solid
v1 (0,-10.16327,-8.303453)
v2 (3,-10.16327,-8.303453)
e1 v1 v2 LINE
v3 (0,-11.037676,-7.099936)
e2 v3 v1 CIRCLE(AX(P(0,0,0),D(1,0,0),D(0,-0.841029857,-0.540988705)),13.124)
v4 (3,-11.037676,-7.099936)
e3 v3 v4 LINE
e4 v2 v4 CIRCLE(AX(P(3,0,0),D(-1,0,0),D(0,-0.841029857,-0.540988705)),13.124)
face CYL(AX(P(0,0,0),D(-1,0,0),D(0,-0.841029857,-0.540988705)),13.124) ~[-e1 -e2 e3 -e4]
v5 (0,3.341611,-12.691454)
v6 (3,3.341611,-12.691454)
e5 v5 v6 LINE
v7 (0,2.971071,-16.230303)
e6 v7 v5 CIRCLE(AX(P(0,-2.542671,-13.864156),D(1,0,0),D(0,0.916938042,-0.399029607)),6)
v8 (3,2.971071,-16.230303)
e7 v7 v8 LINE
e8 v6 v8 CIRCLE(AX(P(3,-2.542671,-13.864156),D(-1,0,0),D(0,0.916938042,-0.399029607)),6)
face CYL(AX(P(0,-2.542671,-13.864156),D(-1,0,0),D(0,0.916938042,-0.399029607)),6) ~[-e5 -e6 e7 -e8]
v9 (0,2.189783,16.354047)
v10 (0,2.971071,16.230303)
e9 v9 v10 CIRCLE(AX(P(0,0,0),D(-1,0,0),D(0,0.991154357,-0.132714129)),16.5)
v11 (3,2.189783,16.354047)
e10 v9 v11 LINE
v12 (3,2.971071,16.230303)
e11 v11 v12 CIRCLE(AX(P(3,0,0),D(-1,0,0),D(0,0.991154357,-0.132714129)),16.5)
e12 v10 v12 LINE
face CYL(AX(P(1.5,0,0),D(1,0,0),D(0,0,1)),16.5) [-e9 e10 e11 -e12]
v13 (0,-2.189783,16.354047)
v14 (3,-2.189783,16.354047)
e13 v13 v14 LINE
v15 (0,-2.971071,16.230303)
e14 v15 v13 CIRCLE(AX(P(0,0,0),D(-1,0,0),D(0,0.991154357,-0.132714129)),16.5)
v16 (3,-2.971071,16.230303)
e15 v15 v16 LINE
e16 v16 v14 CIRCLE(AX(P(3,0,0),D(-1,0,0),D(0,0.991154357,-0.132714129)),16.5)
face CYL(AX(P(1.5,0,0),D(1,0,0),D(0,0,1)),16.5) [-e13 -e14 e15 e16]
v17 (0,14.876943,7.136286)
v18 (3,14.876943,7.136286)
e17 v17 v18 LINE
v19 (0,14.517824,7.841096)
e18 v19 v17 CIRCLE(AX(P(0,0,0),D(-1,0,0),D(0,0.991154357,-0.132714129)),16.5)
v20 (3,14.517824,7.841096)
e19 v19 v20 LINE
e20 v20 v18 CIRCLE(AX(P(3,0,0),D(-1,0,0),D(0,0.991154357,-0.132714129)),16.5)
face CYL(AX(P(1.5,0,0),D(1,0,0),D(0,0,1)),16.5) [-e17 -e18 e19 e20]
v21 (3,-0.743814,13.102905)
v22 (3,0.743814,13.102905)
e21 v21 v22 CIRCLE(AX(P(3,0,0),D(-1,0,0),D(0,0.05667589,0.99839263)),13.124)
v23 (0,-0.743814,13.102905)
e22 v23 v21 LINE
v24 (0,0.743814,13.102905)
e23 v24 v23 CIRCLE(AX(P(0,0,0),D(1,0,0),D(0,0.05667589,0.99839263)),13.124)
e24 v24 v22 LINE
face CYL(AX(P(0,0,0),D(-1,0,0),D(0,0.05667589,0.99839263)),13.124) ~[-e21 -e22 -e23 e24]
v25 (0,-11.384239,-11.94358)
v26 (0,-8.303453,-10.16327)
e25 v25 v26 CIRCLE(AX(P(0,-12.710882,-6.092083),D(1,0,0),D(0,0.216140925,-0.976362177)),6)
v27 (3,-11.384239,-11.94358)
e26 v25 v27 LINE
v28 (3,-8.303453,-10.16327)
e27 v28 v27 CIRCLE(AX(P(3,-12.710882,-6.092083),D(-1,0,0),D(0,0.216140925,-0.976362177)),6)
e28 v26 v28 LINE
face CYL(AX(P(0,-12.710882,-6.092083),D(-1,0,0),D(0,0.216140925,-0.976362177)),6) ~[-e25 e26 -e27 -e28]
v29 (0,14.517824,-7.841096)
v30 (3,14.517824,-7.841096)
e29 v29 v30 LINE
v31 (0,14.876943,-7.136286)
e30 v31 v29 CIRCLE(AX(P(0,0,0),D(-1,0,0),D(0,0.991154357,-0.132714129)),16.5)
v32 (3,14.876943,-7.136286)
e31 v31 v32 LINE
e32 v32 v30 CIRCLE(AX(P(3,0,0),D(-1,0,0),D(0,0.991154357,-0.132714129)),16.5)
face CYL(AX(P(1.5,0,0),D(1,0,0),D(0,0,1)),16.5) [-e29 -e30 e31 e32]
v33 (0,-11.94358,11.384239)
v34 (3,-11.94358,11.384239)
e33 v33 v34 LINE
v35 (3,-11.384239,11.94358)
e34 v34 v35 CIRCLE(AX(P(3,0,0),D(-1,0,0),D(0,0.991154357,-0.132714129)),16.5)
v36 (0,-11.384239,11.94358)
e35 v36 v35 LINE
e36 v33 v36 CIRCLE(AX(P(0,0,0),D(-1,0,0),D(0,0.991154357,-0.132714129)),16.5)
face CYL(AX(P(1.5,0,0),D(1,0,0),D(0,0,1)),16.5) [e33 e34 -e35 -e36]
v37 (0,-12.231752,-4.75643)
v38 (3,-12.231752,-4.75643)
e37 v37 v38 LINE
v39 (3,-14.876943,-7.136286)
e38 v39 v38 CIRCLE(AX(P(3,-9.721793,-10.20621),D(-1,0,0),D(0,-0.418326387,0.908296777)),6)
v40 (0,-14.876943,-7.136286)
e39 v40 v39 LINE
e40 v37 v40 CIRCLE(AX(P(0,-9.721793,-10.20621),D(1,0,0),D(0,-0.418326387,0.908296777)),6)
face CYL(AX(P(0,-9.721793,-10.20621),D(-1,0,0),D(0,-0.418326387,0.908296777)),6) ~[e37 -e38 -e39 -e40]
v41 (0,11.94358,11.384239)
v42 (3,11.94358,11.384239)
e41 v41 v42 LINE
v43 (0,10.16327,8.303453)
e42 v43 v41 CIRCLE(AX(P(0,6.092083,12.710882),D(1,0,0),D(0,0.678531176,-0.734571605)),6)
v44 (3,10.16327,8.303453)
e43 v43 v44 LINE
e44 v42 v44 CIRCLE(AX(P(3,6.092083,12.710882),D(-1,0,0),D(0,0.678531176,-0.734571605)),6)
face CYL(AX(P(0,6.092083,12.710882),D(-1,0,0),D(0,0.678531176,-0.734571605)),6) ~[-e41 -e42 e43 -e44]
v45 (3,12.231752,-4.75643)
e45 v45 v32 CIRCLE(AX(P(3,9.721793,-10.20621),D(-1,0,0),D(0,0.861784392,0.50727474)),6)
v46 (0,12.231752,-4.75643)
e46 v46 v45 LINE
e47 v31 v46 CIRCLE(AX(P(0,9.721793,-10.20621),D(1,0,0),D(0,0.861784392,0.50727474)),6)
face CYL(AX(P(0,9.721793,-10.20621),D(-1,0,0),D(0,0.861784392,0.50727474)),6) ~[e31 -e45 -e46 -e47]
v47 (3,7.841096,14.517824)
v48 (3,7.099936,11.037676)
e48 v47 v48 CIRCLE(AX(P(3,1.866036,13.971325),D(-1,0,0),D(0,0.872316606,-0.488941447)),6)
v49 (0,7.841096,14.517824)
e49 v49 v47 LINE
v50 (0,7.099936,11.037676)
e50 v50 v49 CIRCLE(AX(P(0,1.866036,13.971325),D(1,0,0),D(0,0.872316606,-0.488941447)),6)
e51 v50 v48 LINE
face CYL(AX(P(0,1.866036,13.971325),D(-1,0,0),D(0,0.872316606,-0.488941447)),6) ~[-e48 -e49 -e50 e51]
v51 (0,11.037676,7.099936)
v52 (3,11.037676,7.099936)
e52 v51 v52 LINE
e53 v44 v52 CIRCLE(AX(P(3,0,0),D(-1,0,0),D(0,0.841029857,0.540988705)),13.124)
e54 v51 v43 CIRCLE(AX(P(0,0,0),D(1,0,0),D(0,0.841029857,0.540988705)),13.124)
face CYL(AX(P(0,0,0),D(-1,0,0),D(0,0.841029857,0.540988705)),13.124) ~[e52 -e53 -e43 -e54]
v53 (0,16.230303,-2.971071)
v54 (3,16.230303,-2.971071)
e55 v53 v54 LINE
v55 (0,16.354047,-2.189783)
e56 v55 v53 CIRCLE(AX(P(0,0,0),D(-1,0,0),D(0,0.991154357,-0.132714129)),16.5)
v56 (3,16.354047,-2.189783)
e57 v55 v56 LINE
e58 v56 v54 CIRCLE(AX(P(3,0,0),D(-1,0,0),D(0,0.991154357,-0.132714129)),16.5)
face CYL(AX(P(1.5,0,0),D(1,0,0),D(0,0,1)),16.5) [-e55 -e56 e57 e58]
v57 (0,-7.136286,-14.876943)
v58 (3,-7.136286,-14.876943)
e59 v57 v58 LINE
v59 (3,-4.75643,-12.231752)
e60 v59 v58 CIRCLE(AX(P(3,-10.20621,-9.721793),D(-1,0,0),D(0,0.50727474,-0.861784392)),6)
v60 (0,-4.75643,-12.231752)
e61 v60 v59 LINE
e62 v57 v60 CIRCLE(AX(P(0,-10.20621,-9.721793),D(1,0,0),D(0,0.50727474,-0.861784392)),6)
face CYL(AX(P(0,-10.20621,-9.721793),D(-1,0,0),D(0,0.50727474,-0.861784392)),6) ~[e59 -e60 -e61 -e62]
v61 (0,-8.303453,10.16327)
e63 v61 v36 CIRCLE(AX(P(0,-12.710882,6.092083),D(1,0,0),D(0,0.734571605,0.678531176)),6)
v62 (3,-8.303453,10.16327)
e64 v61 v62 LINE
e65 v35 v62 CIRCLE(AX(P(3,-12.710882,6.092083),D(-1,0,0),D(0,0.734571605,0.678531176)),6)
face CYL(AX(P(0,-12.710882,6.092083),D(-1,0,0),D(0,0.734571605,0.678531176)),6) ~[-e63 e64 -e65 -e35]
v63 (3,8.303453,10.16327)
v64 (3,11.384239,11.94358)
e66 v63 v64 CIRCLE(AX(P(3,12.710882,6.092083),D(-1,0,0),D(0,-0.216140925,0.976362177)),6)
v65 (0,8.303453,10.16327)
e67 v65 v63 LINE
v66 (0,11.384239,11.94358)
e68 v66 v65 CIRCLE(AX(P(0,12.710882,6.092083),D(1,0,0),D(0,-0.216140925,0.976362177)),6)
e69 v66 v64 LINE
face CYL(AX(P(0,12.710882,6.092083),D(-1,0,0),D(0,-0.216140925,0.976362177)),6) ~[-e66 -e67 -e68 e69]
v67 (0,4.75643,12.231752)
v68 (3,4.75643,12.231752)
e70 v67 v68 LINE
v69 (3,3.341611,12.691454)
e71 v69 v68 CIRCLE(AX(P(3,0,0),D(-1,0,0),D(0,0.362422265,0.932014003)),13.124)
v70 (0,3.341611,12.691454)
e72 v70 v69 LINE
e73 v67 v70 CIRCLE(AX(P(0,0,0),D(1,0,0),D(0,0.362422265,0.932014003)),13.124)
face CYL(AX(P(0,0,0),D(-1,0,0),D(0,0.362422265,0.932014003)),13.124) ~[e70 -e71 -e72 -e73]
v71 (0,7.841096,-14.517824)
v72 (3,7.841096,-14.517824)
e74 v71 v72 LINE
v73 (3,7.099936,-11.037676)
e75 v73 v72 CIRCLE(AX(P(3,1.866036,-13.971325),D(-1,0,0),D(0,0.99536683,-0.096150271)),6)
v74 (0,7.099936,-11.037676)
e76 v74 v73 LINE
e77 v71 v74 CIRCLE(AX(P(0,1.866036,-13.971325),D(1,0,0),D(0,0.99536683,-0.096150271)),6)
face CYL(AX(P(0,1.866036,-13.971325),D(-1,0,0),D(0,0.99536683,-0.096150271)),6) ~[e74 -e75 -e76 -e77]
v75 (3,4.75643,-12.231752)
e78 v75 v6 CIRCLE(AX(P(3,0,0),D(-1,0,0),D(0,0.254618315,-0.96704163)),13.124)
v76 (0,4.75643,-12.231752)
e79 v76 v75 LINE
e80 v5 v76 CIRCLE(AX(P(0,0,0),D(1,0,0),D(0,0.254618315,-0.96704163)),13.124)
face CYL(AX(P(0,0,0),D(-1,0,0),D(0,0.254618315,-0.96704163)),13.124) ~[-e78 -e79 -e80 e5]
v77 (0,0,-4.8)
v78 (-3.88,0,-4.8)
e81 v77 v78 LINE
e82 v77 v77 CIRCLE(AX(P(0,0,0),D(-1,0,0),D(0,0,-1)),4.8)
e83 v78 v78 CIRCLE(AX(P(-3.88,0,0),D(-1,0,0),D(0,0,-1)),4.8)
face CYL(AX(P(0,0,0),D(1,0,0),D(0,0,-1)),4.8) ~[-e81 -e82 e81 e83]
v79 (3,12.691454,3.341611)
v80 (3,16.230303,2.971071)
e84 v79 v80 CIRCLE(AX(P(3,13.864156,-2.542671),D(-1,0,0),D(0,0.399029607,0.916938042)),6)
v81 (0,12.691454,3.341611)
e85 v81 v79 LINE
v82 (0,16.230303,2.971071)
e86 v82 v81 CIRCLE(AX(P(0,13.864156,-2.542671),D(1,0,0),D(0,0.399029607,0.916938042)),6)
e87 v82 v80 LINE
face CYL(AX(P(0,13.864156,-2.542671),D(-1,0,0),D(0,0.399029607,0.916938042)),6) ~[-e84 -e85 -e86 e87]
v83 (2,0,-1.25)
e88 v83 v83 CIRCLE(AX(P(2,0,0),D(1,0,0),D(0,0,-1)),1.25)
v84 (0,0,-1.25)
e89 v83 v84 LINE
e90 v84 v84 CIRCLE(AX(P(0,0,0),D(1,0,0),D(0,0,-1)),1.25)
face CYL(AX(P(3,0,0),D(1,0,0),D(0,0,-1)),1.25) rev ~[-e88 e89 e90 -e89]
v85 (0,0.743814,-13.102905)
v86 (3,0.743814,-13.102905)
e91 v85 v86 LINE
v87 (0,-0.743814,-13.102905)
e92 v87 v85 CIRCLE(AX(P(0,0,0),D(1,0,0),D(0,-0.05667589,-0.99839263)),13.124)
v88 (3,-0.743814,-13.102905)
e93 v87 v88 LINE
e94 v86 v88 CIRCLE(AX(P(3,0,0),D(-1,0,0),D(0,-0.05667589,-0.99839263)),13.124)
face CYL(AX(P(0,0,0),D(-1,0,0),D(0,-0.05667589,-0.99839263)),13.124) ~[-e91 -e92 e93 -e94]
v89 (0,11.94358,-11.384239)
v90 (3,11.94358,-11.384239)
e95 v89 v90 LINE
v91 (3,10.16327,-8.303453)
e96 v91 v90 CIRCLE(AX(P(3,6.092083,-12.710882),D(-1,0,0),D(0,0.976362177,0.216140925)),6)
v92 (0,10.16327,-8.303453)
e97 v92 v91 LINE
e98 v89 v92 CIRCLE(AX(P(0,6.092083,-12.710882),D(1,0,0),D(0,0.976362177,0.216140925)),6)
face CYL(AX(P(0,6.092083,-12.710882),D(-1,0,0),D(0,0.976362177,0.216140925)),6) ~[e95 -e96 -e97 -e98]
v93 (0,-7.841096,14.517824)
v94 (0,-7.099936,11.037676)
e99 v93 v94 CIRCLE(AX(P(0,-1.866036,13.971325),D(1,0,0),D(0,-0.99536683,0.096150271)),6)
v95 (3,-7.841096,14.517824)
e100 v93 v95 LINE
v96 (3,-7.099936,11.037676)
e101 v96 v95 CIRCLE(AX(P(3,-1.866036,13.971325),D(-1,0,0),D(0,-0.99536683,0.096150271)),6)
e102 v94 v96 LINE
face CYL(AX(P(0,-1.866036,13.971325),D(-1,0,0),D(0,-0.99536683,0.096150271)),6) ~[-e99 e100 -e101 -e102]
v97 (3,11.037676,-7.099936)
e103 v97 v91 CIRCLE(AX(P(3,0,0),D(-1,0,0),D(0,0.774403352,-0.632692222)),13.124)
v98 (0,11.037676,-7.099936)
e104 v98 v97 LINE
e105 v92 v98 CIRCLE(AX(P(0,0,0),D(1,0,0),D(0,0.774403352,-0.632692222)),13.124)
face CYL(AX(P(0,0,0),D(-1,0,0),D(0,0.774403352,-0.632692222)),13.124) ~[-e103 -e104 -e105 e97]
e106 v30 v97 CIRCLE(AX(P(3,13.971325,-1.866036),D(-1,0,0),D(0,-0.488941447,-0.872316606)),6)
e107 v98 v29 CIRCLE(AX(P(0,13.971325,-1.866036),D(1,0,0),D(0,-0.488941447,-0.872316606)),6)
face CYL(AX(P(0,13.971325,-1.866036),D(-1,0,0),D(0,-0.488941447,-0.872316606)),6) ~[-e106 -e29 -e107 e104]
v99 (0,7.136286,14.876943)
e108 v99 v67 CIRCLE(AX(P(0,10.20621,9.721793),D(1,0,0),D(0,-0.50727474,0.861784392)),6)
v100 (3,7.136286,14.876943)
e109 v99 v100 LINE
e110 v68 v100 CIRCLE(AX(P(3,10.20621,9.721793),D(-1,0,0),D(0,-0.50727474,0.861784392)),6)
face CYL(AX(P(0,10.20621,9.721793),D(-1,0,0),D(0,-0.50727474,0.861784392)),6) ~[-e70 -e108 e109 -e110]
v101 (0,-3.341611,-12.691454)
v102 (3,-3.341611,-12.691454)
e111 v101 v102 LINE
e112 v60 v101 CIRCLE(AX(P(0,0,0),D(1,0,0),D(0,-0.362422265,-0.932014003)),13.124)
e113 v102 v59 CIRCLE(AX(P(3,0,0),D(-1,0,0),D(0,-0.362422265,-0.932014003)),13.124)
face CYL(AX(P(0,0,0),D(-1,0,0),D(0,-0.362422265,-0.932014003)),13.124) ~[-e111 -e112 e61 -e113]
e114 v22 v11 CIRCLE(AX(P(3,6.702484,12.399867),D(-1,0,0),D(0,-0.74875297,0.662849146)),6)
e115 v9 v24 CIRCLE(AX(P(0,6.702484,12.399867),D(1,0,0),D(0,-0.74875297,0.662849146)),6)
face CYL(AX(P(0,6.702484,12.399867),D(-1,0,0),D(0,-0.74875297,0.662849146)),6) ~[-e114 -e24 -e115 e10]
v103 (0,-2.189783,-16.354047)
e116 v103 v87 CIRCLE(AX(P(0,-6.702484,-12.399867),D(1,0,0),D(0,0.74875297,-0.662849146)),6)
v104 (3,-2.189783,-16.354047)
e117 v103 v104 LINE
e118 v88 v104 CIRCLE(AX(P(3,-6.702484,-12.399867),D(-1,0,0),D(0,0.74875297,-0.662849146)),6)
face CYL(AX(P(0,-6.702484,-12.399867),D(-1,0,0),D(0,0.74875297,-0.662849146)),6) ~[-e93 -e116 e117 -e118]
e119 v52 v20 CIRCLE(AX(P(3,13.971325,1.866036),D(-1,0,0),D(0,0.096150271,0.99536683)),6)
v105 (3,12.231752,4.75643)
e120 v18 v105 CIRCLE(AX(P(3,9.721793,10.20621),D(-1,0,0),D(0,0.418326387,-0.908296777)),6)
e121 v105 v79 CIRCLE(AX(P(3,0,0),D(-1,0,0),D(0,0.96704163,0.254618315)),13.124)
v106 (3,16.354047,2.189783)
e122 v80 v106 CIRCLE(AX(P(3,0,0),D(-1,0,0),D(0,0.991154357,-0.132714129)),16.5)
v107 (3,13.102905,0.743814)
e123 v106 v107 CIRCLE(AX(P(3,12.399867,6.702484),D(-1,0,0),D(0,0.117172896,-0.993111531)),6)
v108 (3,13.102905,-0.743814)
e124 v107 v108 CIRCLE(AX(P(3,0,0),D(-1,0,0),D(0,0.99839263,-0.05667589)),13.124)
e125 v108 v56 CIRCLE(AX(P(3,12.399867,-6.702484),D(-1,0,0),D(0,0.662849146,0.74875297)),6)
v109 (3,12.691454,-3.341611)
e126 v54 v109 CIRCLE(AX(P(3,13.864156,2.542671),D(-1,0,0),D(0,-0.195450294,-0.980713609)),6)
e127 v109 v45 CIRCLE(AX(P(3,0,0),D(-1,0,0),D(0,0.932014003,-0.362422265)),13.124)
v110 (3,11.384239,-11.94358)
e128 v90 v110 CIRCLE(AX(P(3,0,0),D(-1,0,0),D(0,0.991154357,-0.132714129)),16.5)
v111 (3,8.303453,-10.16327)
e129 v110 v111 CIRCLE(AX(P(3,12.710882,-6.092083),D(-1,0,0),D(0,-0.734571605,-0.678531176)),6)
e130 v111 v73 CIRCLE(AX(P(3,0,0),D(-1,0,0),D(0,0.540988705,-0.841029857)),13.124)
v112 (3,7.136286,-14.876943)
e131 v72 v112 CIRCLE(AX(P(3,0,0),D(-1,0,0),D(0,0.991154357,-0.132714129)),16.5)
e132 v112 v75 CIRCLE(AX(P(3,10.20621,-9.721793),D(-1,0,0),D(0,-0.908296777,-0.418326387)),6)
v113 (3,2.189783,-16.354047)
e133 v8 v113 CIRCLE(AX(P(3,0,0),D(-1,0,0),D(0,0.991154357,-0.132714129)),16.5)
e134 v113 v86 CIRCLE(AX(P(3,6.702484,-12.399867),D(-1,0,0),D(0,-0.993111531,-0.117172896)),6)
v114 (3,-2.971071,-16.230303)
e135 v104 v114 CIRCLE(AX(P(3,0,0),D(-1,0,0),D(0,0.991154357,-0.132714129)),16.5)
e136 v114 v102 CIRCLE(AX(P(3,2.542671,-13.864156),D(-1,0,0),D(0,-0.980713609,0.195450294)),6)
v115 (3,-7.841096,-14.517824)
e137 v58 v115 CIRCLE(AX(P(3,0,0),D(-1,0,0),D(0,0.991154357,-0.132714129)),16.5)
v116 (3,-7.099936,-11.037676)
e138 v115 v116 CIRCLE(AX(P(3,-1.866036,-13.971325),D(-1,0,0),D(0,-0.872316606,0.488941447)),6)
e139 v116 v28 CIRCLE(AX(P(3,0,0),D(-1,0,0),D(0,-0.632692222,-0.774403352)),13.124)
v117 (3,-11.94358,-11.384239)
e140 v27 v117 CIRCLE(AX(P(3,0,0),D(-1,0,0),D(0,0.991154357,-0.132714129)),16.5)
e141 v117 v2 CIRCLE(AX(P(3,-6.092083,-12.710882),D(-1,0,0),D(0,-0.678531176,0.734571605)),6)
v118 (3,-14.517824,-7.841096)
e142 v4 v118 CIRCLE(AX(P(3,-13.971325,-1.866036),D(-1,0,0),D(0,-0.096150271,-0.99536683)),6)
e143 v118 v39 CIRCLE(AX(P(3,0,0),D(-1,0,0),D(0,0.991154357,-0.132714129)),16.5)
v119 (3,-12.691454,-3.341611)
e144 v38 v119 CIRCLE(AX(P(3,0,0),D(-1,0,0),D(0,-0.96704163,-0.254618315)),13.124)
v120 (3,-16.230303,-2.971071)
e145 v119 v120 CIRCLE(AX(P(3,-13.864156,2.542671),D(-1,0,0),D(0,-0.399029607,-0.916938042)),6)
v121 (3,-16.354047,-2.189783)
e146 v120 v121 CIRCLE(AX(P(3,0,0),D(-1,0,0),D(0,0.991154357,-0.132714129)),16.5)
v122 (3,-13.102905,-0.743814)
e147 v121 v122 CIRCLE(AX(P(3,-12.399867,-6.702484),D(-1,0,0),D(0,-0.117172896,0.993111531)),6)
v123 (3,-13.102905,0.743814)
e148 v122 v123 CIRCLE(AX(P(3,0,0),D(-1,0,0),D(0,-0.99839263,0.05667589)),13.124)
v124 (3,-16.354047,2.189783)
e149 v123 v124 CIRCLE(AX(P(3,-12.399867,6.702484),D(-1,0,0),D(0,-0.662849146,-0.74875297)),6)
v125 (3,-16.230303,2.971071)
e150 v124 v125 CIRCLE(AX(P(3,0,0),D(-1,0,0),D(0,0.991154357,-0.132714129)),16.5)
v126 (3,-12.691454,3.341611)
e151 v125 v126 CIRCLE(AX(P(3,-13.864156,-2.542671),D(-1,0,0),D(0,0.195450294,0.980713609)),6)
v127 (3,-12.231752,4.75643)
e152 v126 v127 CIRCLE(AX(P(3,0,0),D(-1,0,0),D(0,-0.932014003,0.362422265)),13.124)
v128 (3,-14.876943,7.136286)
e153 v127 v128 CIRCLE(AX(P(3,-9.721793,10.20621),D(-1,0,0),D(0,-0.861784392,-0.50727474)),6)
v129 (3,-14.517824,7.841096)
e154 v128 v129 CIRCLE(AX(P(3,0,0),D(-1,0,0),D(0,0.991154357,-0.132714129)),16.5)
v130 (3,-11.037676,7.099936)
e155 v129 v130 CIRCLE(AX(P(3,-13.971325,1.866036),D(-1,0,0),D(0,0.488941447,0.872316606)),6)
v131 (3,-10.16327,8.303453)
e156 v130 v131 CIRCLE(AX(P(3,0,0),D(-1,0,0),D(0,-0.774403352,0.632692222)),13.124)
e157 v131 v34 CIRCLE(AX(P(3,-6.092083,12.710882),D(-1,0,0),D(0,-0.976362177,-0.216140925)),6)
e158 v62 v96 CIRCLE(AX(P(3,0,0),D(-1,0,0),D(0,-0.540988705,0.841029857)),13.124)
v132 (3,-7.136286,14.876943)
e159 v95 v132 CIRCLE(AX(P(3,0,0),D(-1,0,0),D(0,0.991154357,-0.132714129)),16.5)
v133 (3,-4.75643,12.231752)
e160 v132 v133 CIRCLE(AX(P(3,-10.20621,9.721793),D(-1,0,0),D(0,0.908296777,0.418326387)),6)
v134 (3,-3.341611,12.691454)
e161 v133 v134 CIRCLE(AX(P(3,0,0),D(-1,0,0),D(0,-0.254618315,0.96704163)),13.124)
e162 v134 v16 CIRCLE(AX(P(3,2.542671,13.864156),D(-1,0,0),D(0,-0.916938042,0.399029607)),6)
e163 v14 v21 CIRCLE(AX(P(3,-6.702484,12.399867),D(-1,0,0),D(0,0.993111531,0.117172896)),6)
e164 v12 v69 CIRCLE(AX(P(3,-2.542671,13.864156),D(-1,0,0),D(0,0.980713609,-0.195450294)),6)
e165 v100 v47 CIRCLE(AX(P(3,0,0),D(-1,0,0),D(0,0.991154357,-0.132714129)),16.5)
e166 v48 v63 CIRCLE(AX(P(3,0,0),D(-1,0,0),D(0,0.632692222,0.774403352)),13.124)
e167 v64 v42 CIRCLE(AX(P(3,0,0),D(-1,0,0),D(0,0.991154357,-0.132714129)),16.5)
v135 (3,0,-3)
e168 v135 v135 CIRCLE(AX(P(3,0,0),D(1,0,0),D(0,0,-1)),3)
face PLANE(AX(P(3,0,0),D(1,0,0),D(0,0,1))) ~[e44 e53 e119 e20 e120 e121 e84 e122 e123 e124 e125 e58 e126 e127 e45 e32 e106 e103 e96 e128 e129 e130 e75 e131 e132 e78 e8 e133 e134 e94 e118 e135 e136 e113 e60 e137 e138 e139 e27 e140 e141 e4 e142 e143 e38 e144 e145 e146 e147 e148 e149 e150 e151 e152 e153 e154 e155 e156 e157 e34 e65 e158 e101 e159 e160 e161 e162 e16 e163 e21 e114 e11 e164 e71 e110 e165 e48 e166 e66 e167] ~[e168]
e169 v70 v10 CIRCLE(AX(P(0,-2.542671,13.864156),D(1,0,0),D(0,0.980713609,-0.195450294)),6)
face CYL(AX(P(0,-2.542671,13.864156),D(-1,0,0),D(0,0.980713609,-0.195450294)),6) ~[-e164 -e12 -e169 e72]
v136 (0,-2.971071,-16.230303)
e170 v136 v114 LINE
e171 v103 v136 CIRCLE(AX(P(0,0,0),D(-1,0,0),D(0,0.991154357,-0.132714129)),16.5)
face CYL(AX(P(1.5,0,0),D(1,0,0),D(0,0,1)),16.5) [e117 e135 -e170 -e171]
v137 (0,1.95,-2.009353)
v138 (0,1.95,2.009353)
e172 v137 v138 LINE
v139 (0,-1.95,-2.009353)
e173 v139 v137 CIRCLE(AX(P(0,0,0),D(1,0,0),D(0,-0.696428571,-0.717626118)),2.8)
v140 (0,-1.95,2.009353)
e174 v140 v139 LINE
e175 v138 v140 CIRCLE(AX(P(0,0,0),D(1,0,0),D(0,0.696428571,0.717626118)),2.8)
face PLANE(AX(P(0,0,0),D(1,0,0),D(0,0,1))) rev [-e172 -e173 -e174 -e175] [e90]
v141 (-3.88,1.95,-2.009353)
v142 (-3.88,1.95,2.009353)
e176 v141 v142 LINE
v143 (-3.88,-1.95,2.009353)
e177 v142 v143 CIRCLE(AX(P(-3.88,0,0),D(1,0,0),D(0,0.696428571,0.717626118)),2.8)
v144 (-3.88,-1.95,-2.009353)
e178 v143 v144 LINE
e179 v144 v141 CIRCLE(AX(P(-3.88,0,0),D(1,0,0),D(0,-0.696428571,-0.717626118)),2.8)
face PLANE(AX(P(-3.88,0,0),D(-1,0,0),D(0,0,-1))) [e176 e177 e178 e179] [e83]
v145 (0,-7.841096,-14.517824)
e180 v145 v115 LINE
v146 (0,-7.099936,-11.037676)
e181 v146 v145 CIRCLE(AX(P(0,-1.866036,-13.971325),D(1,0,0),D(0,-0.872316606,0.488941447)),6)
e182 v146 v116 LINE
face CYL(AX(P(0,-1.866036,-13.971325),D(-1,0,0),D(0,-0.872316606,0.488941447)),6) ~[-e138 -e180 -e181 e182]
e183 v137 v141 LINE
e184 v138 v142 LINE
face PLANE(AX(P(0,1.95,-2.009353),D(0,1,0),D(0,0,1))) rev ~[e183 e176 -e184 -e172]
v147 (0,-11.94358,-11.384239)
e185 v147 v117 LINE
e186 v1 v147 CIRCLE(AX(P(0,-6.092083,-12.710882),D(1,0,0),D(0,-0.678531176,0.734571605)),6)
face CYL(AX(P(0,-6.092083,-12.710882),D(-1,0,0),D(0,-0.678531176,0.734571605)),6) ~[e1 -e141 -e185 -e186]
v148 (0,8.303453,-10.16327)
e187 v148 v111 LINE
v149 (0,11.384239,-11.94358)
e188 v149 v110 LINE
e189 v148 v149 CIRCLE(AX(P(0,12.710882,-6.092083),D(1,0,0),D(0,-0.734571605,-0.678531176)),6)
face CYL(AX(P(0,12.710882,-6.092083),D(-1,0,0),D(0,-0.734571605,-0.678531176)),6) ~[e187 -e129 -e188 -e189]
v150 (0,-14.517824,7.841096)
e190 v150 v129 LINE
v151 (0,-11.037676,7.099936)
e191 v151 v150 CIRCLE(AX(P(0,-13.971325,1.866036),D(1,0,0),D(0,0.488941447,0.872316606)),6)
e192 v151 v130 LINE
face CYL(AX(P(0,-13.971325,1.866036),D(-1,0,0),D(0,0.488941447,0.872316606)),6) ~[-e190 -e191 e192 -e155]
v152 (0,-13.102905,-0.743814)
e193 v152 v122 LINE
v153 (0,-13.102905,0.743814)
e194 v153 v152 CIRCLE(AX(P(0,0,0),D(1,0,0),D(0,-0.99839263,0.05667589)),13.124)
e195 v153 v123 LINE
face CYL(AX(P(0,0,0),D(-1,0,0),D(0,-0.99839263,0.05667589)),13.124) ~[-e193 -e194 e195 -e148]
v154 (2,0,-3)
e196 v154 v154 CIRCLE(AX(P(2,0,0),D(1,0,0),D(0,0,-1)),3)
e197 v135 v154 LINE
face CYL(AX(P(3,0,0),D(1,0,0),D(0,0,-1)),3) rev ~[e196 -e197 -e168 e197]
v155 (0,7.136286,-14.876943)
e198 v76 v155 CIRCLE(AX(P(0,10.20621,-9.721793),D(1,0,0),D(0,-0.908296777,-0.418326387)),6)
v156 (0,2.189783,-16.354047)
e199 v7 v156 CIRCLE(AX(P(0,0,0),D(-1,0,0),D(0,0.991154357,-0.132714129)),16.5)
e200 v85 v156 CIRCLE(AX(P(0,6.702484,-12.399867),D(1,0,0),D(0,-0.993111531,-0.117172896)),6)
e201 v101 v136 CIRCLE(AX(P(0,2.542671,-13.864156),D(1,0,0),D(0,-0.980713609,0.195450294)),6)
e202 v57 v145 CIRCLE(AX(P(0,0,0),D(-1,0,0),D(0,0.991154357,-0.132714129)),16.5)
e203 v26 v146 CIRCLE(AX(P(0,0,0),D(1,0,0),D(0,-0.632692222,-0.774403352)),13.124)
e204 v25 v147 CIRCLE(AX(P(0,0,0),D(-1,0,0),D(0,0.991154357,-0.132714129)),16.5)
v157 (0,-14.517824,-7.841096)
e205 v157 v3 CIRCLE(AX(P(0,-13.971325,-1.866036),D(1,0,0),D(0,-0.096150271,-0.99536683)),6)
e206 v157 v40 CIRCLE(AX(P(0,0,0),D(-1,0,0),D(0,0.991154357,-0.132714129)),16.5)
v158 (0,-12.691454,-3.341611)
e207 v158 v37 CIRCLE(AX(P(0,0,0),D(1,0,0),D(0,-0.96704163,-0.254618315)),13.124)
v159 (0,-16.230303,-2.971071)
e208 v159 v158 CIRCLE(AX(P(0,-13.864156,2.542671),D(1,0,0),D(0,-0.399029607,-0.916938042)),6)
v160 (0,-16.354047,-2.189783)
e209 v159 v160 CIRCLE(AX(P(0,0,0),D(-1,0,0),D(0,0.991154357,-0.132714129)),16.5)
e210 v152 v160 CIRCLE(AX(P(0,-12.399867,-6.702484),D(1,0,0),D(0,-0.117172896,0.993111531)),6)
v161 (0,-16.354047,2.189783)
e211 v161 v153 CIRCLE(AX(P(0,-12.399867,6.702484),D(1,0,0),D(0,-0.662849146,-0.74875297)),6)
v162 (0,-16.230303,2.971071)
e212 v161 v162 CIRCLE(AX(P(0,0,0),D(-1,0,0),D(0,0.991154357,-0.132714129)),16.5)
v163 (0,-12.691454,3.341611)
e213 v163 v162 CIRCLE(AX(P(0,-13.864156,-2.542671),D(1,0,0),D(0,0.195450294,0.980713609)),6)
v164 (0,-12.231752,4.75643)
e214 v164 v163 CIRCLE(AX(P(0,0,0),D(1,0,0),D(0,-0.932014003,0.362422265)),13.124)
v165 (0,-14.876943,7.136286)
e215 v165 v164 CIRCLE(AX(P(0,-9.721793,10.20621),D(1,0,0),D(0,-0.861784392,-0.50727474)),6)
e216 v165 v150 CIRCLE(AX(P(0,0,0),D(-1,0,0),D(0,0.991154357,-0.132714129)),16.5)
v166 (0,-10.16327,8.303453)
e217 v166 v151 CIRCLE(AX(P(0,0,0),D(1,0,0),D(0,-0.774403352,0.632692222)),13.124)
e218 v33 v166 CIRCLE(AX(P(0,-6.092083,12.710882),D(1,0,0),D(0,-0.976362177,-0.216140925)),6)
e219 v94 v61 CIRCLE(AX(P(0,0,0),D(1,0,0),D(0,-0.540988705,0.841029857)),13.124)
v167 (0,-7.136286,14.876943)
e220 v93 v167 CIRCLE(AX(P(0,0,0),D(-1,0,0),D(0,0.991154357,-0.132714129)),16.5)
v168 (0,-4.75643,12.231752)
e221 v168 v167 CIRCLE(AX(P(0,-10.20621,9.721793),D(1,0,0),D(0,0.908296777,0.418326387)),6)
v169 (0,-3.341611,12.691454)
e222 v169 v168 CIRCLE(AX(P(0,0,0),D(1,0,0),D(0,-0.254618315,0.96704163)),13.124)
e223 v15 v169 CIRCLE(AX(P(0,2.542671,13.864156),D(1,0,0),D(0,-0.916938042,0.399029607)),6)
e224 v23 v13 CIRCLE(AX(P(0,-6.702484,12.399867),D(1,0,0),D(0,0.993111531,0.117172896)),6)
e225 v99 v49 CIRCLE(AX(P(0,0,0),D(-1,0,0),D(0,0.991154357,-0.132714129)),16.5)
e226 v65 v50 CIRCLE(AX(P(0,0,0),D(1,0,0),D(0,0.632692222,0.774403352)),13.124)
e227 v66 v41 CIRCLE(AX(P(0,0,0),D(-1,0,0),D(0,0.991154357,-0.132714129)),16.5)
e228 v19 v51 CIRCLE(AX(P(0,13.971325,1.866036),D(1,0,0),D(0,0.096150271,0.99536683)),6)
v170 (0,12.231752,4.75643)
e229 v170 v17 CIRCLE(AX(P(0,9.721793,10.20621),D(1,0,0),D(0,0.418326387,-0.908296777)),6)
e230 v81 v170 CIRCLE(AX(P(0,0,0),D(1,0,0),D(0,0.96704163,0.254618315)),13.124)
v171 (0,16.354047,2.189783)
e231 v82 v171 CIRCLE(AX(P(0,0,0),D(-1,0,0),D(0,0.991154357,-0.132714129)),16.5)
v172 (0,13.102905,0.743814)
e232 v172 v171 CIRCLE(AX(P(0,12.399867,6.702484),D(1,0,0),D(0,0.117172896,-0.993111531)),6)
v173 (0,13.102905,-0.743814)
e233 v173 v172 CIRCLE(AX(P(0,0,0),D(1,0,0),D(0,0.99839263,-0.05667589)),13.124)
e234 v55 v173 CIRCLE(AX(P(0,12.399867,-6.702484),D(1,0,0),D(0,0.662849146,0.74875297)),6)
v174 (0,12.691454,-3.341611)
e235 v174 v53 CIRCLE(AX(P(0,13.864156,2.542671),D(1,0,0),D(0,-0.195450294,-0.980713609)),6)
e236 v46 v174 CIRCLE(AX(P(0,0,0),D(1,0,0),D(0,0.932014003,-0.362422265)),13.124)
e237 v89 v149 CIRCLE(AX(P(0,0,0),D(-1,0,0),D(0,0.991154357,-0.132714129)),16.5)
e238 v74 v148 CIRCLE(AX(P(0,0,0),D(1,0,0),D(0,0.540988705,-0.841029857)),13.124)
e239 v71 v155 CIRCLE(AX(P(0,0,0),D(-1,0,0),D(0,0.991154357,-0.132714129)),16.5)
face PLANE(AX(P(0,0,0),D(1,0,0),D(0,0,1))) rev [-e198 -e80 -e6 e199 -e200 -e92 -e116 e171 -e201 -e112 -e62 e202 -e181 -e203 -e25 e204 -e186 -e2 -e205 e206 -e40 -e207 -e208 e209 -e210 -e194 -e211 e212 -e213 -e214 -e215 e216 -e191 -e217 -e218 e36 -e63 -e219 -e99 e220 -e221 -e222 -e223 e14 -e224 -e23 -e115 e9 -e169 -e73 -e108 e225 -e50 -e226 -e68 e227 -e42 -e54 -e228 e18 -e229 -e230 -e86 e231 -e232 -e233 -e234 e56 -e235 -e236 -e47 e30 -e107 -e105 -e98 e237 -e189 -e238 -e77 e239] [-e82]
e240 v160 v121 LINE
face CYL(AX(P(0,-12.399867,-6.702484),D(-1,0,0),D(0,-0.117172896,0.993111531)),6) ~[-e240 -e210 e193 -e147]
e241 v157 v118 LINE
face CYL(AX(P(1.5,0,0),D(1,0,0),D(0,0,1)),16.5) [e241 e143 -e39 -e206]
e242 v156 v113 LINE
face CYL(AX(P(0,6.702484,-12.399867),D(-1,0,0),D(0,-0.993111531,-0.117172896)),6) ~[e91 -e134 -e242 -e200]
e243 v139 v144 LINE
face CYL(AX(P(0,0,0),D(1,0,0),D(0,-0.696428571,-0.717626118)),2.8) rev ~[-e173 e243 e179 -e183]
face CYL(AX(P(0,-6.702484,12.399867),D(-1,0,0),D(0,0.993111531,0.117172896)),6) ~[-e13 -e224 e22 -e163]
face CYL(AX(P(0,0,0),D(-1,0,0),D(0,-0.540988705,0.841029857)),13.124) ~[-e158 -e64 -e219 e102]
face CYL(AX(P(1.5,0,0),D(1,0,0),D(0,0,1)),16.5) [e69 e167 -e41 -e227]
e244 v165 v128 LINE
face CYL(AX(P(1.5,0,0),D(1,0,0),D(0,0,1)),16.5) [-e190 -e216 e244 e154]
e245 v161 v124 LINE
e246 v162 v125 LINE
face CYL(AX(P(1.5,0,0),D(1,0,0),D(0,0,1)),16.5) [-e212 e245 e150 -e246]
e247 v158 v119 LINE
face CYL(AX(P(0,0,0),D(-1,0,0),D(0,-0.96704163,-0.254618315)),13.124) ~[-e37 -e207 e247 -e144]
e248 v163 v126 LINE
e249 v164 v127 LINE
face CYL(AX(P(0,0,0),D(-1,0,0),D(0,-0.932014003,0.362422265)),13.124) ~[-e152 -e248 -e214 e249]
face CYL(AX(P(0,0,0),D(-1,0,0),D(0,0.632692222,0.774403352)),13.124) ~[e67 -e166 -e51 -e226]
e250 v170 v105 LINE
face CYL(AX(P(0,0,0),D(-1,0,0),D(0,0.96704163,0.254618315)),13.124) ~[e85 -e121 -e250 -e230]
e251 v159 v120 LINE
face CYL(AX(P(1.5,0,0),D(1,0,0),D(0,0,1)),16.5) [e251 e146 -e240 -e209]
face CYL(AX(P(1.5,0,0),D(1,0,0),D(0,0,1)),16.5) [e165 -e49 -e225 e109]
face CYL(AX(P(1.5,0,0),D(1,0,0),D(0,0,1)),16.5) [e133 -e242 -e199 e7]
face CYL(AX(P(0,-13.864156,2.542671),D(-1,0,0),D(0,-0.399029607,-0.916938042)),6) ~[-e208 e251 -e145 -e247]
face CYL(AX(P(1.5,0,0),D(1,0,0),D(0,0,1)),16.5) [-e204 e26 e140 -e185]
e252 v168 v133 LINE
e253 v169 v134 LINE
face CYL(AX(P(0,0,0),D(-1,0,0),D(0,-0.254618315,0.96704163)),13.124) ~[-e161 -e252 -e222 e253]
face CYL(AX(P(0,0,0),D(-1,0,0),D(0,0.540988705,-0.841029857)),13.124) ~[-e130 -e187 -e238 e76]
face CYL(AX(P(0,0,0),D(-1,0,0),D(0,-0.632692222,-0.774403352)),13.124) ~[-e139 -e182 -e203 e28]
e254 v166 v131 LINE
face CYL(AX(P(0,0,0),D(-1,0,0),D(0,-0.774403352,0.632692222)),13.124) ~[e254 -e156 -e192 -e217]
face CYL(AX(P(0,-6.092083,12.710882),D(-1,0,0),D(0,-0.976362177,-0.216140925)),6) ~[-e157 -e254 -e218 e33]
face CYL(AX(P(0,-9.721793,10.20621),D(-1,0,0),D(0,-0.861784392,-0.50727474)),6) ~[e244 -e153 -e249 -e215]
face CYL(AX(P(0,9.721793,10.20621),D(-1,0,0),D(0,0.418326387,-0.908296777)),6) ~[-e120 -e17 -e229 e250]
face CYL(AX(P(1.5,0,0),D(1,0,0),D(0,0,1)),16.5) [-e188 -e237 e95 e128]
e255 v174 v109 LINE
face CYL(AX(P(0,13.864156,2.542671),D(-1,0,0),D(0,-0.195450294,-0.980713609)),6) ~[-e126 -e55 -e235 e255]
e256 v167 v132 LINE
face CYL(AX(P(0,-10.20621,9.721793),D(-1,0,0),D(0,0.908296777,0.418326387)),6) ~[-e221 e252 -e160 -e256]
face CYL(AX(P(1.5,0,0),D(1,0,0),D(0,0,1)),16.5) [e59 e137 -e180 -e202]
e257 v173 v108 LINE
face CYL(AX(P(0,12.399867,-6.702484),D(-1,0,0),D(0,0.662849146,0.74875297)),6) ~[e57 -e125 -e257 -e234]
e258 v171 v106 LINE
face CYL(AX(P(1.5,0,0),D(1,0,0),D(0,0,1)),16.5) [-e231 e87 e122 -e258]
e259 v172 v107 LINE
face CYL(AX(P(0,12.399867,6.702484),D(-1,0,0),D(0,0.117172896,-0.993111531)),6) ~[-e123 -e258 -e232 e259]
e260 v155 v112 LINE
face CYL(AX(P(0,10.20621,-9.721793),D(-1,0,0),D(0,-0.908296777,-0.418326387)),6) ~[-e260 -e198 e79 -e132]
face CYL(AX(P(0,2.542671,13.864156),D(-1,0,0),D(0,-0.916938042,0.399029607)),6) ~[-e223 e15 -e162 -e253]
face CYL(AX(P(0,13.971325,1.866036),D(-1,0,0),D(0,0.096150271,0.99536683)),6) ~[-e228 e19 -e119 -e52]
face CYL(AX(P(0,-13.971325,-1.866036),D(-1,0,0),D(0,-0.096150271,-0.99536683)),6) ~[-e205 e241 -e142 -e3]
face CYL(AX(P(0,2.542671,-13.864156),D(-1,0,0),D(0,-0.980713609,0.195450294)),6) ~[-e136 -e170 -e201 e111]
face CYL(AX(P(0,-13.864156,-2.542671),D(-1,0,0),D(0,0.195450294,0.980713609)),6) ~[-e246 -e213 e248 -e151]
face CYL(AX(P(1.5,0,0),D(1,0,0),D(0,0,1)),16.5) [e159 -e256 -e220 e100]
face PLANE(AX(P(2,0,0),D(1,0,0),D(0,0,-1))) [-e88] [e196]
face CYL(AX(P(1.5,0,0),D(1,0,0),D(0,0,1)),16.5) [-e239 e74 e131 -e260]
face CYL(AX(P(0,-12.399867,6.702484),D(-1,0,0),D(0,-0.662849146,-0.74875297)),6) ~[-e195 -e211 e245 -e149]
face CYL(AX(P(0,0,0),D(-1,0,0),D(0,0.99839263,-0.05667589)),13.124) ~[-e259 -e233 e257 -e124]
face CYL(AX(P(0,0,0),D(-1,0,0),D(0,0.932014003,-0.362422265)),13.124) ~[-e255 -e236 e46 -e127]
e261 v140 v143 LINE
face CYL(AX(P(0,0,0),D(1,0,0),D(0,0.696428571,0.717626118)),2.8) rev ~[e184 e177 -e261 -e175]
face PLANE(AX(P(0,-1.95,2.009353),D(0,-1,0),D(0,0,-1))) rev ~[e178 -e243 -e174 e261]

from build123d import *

# Parameters (mm, degrees)
BASPROSKE_W         = 3
BASPROSKE_H         = 16.5
TOOTHCUT_DEPTH      = 24.526580712
TEETHCUTS_COUNT     = 20
TEETHCUTS_ANGLE     = 342
BORSKE_R            = 0.5
BORE_DEPTH          = 50.0000508
SKETCH1_R           = 4.8
BOSS_EXTRUDE1_DEPTH = 3.88
CUT_EXTRUDE1_REACH  = 26.13
SKETCH2_R           = 1.25
SKETCH3_R           = 3
SKETCH3_R_2         = 1.25
CUT_EXTRUDE2_DEPTH  = 1


with BuildPart() as part:
    # BasProSke → Base-Revolve (revolve)
    with BuildSketch(Plane(origin=(0, 0, 0), x_dir=(1, 0, 0), z_dir=(0, 1, 0)), mode=Mode.PRIVATE) as base_revolve_sk:
        with Locations((1.5, 8.25)):
            Rectangle(BASPROSKE_W, BASPROSKE_H)
    revolve(base_revolve_sk.sketch.rotate(Axis((-10, 0, 0), (1, 0, 0)), 180), axis=Axis((-10, 0, 0), (1, 0, 0)))

    # TooCutSke → ToothCut (cut, through all)
    with BuildSketch(Plane(origin=(0, 0, 0), x_dir=(0, 0, -1), z_dir=(1, 0, 0))):
        with BuildLine():
            ThreePointArc((0.74381438, 13.102904875), (0, 13.124), (-0.74381438, 13.102904875))
            ThreePointArc((-0.74381438, 13.102904875), (-1.226473103, 14.852072512), (-2.209965745, 16.376962373))
            ThreePointArc((-2.209965745, 16.376962373), (0, 16.5254), (2.209965745, 16.376962373))
            ThreePointArc((2.209965745, 16.376962373), (1.226473103, 14.852072512), (0.74381438, 13.102904875))
        make_face()
    toothcut = extrude(amount=TOOTHCUT_DEPTH, mode=Mode.SUBTRACT)

    # TeethCuts: ToothCut ×20 about axis
    teethcuts_axis = Axis((-10, 0, 0), (1, 0, 0))
    for i in range(1, TEETHCUTS_COUNT):
        add(toothcut.rotate(teethcuts_axis, i * TEETHCUTS_ANGLE / (TEETHCUTS_COUNT - 1)), mode=Mode.SUBTRACT)

    # BorSke → Bore (cut, symmetric)
    with BuildSketch(Plane(origin=(0, 0, 0), x_dir=(0, 0, -1), z_dir=(1, 0, 0))):
        with Locations(Location((0, 0, 0), (0, 0, 180))):
            Circle(BORSKE_R)
    extrude(amount=BORE_DEPTH, both=True, mode=Mode.SUBTRACT)

    # Sketch1 → Boss-Extrude1 (add)
    with BuildSketch(Plane.ZY):
        with Locations(Location((0, 0, 0), (0, 0, 180))):
            Circle(SKETCH1_R)
        with BuildLine():
            Line((-2.00935313, 1.95), (2.00935313, 1.95))
            ThreePointArc((2.00935313, 1.95), (2.8, 0), (2.00935313, -1.95))
            Line((2.00935313, -1.95), (-2.00935313, -1.95))
            ThreePointArc((-2.00935313, -1.95), (-2.8, 0), (-2.00935313, 1.95))
        make_face(mode=Mode.SUBTRACT)
    extrude(amount=BOSS_EXTRUDE1_DEPTH)

    # Sketch2 → Cut-Extrude1 (cut, up to next)
    with BuildSketch(Plane(origin=(3, 0, 0), x_dir=(0, 0, -1), z_dir=(1, 0, 0)), mode=Mode.PRIVATE) as cut_extrude1_sk1:
        Circle(SKETCH2_R)
    cut_extrude1_tool1 = extrude(cut_extrude1_sk1.sketch, amount=-CUT_EXTRUDE1_REACH, mode=Mode.PRIVATE) & part.part
    add(cut_extrude1_tool1.solids().sort_by_distance((3, 0, 0))[0], mode=Mode.SUBTRACT)

    # Sketch3 → Cut-Extrude2 (cut)
    with BuildSketch(Plane(origin=(3, 0, 0), x_dir=(0, 0, -1), z_dir=(1, 0, 0))):
        Circle(SKETCH3_R)
        Circle(SKETCH3_R_2, mode=Mode.SUBTRACT)
    extrude(amount=-CUT_EXTRUDE2_DEPTH, mode=Mode.SUBTRACT)


solid = part.part
